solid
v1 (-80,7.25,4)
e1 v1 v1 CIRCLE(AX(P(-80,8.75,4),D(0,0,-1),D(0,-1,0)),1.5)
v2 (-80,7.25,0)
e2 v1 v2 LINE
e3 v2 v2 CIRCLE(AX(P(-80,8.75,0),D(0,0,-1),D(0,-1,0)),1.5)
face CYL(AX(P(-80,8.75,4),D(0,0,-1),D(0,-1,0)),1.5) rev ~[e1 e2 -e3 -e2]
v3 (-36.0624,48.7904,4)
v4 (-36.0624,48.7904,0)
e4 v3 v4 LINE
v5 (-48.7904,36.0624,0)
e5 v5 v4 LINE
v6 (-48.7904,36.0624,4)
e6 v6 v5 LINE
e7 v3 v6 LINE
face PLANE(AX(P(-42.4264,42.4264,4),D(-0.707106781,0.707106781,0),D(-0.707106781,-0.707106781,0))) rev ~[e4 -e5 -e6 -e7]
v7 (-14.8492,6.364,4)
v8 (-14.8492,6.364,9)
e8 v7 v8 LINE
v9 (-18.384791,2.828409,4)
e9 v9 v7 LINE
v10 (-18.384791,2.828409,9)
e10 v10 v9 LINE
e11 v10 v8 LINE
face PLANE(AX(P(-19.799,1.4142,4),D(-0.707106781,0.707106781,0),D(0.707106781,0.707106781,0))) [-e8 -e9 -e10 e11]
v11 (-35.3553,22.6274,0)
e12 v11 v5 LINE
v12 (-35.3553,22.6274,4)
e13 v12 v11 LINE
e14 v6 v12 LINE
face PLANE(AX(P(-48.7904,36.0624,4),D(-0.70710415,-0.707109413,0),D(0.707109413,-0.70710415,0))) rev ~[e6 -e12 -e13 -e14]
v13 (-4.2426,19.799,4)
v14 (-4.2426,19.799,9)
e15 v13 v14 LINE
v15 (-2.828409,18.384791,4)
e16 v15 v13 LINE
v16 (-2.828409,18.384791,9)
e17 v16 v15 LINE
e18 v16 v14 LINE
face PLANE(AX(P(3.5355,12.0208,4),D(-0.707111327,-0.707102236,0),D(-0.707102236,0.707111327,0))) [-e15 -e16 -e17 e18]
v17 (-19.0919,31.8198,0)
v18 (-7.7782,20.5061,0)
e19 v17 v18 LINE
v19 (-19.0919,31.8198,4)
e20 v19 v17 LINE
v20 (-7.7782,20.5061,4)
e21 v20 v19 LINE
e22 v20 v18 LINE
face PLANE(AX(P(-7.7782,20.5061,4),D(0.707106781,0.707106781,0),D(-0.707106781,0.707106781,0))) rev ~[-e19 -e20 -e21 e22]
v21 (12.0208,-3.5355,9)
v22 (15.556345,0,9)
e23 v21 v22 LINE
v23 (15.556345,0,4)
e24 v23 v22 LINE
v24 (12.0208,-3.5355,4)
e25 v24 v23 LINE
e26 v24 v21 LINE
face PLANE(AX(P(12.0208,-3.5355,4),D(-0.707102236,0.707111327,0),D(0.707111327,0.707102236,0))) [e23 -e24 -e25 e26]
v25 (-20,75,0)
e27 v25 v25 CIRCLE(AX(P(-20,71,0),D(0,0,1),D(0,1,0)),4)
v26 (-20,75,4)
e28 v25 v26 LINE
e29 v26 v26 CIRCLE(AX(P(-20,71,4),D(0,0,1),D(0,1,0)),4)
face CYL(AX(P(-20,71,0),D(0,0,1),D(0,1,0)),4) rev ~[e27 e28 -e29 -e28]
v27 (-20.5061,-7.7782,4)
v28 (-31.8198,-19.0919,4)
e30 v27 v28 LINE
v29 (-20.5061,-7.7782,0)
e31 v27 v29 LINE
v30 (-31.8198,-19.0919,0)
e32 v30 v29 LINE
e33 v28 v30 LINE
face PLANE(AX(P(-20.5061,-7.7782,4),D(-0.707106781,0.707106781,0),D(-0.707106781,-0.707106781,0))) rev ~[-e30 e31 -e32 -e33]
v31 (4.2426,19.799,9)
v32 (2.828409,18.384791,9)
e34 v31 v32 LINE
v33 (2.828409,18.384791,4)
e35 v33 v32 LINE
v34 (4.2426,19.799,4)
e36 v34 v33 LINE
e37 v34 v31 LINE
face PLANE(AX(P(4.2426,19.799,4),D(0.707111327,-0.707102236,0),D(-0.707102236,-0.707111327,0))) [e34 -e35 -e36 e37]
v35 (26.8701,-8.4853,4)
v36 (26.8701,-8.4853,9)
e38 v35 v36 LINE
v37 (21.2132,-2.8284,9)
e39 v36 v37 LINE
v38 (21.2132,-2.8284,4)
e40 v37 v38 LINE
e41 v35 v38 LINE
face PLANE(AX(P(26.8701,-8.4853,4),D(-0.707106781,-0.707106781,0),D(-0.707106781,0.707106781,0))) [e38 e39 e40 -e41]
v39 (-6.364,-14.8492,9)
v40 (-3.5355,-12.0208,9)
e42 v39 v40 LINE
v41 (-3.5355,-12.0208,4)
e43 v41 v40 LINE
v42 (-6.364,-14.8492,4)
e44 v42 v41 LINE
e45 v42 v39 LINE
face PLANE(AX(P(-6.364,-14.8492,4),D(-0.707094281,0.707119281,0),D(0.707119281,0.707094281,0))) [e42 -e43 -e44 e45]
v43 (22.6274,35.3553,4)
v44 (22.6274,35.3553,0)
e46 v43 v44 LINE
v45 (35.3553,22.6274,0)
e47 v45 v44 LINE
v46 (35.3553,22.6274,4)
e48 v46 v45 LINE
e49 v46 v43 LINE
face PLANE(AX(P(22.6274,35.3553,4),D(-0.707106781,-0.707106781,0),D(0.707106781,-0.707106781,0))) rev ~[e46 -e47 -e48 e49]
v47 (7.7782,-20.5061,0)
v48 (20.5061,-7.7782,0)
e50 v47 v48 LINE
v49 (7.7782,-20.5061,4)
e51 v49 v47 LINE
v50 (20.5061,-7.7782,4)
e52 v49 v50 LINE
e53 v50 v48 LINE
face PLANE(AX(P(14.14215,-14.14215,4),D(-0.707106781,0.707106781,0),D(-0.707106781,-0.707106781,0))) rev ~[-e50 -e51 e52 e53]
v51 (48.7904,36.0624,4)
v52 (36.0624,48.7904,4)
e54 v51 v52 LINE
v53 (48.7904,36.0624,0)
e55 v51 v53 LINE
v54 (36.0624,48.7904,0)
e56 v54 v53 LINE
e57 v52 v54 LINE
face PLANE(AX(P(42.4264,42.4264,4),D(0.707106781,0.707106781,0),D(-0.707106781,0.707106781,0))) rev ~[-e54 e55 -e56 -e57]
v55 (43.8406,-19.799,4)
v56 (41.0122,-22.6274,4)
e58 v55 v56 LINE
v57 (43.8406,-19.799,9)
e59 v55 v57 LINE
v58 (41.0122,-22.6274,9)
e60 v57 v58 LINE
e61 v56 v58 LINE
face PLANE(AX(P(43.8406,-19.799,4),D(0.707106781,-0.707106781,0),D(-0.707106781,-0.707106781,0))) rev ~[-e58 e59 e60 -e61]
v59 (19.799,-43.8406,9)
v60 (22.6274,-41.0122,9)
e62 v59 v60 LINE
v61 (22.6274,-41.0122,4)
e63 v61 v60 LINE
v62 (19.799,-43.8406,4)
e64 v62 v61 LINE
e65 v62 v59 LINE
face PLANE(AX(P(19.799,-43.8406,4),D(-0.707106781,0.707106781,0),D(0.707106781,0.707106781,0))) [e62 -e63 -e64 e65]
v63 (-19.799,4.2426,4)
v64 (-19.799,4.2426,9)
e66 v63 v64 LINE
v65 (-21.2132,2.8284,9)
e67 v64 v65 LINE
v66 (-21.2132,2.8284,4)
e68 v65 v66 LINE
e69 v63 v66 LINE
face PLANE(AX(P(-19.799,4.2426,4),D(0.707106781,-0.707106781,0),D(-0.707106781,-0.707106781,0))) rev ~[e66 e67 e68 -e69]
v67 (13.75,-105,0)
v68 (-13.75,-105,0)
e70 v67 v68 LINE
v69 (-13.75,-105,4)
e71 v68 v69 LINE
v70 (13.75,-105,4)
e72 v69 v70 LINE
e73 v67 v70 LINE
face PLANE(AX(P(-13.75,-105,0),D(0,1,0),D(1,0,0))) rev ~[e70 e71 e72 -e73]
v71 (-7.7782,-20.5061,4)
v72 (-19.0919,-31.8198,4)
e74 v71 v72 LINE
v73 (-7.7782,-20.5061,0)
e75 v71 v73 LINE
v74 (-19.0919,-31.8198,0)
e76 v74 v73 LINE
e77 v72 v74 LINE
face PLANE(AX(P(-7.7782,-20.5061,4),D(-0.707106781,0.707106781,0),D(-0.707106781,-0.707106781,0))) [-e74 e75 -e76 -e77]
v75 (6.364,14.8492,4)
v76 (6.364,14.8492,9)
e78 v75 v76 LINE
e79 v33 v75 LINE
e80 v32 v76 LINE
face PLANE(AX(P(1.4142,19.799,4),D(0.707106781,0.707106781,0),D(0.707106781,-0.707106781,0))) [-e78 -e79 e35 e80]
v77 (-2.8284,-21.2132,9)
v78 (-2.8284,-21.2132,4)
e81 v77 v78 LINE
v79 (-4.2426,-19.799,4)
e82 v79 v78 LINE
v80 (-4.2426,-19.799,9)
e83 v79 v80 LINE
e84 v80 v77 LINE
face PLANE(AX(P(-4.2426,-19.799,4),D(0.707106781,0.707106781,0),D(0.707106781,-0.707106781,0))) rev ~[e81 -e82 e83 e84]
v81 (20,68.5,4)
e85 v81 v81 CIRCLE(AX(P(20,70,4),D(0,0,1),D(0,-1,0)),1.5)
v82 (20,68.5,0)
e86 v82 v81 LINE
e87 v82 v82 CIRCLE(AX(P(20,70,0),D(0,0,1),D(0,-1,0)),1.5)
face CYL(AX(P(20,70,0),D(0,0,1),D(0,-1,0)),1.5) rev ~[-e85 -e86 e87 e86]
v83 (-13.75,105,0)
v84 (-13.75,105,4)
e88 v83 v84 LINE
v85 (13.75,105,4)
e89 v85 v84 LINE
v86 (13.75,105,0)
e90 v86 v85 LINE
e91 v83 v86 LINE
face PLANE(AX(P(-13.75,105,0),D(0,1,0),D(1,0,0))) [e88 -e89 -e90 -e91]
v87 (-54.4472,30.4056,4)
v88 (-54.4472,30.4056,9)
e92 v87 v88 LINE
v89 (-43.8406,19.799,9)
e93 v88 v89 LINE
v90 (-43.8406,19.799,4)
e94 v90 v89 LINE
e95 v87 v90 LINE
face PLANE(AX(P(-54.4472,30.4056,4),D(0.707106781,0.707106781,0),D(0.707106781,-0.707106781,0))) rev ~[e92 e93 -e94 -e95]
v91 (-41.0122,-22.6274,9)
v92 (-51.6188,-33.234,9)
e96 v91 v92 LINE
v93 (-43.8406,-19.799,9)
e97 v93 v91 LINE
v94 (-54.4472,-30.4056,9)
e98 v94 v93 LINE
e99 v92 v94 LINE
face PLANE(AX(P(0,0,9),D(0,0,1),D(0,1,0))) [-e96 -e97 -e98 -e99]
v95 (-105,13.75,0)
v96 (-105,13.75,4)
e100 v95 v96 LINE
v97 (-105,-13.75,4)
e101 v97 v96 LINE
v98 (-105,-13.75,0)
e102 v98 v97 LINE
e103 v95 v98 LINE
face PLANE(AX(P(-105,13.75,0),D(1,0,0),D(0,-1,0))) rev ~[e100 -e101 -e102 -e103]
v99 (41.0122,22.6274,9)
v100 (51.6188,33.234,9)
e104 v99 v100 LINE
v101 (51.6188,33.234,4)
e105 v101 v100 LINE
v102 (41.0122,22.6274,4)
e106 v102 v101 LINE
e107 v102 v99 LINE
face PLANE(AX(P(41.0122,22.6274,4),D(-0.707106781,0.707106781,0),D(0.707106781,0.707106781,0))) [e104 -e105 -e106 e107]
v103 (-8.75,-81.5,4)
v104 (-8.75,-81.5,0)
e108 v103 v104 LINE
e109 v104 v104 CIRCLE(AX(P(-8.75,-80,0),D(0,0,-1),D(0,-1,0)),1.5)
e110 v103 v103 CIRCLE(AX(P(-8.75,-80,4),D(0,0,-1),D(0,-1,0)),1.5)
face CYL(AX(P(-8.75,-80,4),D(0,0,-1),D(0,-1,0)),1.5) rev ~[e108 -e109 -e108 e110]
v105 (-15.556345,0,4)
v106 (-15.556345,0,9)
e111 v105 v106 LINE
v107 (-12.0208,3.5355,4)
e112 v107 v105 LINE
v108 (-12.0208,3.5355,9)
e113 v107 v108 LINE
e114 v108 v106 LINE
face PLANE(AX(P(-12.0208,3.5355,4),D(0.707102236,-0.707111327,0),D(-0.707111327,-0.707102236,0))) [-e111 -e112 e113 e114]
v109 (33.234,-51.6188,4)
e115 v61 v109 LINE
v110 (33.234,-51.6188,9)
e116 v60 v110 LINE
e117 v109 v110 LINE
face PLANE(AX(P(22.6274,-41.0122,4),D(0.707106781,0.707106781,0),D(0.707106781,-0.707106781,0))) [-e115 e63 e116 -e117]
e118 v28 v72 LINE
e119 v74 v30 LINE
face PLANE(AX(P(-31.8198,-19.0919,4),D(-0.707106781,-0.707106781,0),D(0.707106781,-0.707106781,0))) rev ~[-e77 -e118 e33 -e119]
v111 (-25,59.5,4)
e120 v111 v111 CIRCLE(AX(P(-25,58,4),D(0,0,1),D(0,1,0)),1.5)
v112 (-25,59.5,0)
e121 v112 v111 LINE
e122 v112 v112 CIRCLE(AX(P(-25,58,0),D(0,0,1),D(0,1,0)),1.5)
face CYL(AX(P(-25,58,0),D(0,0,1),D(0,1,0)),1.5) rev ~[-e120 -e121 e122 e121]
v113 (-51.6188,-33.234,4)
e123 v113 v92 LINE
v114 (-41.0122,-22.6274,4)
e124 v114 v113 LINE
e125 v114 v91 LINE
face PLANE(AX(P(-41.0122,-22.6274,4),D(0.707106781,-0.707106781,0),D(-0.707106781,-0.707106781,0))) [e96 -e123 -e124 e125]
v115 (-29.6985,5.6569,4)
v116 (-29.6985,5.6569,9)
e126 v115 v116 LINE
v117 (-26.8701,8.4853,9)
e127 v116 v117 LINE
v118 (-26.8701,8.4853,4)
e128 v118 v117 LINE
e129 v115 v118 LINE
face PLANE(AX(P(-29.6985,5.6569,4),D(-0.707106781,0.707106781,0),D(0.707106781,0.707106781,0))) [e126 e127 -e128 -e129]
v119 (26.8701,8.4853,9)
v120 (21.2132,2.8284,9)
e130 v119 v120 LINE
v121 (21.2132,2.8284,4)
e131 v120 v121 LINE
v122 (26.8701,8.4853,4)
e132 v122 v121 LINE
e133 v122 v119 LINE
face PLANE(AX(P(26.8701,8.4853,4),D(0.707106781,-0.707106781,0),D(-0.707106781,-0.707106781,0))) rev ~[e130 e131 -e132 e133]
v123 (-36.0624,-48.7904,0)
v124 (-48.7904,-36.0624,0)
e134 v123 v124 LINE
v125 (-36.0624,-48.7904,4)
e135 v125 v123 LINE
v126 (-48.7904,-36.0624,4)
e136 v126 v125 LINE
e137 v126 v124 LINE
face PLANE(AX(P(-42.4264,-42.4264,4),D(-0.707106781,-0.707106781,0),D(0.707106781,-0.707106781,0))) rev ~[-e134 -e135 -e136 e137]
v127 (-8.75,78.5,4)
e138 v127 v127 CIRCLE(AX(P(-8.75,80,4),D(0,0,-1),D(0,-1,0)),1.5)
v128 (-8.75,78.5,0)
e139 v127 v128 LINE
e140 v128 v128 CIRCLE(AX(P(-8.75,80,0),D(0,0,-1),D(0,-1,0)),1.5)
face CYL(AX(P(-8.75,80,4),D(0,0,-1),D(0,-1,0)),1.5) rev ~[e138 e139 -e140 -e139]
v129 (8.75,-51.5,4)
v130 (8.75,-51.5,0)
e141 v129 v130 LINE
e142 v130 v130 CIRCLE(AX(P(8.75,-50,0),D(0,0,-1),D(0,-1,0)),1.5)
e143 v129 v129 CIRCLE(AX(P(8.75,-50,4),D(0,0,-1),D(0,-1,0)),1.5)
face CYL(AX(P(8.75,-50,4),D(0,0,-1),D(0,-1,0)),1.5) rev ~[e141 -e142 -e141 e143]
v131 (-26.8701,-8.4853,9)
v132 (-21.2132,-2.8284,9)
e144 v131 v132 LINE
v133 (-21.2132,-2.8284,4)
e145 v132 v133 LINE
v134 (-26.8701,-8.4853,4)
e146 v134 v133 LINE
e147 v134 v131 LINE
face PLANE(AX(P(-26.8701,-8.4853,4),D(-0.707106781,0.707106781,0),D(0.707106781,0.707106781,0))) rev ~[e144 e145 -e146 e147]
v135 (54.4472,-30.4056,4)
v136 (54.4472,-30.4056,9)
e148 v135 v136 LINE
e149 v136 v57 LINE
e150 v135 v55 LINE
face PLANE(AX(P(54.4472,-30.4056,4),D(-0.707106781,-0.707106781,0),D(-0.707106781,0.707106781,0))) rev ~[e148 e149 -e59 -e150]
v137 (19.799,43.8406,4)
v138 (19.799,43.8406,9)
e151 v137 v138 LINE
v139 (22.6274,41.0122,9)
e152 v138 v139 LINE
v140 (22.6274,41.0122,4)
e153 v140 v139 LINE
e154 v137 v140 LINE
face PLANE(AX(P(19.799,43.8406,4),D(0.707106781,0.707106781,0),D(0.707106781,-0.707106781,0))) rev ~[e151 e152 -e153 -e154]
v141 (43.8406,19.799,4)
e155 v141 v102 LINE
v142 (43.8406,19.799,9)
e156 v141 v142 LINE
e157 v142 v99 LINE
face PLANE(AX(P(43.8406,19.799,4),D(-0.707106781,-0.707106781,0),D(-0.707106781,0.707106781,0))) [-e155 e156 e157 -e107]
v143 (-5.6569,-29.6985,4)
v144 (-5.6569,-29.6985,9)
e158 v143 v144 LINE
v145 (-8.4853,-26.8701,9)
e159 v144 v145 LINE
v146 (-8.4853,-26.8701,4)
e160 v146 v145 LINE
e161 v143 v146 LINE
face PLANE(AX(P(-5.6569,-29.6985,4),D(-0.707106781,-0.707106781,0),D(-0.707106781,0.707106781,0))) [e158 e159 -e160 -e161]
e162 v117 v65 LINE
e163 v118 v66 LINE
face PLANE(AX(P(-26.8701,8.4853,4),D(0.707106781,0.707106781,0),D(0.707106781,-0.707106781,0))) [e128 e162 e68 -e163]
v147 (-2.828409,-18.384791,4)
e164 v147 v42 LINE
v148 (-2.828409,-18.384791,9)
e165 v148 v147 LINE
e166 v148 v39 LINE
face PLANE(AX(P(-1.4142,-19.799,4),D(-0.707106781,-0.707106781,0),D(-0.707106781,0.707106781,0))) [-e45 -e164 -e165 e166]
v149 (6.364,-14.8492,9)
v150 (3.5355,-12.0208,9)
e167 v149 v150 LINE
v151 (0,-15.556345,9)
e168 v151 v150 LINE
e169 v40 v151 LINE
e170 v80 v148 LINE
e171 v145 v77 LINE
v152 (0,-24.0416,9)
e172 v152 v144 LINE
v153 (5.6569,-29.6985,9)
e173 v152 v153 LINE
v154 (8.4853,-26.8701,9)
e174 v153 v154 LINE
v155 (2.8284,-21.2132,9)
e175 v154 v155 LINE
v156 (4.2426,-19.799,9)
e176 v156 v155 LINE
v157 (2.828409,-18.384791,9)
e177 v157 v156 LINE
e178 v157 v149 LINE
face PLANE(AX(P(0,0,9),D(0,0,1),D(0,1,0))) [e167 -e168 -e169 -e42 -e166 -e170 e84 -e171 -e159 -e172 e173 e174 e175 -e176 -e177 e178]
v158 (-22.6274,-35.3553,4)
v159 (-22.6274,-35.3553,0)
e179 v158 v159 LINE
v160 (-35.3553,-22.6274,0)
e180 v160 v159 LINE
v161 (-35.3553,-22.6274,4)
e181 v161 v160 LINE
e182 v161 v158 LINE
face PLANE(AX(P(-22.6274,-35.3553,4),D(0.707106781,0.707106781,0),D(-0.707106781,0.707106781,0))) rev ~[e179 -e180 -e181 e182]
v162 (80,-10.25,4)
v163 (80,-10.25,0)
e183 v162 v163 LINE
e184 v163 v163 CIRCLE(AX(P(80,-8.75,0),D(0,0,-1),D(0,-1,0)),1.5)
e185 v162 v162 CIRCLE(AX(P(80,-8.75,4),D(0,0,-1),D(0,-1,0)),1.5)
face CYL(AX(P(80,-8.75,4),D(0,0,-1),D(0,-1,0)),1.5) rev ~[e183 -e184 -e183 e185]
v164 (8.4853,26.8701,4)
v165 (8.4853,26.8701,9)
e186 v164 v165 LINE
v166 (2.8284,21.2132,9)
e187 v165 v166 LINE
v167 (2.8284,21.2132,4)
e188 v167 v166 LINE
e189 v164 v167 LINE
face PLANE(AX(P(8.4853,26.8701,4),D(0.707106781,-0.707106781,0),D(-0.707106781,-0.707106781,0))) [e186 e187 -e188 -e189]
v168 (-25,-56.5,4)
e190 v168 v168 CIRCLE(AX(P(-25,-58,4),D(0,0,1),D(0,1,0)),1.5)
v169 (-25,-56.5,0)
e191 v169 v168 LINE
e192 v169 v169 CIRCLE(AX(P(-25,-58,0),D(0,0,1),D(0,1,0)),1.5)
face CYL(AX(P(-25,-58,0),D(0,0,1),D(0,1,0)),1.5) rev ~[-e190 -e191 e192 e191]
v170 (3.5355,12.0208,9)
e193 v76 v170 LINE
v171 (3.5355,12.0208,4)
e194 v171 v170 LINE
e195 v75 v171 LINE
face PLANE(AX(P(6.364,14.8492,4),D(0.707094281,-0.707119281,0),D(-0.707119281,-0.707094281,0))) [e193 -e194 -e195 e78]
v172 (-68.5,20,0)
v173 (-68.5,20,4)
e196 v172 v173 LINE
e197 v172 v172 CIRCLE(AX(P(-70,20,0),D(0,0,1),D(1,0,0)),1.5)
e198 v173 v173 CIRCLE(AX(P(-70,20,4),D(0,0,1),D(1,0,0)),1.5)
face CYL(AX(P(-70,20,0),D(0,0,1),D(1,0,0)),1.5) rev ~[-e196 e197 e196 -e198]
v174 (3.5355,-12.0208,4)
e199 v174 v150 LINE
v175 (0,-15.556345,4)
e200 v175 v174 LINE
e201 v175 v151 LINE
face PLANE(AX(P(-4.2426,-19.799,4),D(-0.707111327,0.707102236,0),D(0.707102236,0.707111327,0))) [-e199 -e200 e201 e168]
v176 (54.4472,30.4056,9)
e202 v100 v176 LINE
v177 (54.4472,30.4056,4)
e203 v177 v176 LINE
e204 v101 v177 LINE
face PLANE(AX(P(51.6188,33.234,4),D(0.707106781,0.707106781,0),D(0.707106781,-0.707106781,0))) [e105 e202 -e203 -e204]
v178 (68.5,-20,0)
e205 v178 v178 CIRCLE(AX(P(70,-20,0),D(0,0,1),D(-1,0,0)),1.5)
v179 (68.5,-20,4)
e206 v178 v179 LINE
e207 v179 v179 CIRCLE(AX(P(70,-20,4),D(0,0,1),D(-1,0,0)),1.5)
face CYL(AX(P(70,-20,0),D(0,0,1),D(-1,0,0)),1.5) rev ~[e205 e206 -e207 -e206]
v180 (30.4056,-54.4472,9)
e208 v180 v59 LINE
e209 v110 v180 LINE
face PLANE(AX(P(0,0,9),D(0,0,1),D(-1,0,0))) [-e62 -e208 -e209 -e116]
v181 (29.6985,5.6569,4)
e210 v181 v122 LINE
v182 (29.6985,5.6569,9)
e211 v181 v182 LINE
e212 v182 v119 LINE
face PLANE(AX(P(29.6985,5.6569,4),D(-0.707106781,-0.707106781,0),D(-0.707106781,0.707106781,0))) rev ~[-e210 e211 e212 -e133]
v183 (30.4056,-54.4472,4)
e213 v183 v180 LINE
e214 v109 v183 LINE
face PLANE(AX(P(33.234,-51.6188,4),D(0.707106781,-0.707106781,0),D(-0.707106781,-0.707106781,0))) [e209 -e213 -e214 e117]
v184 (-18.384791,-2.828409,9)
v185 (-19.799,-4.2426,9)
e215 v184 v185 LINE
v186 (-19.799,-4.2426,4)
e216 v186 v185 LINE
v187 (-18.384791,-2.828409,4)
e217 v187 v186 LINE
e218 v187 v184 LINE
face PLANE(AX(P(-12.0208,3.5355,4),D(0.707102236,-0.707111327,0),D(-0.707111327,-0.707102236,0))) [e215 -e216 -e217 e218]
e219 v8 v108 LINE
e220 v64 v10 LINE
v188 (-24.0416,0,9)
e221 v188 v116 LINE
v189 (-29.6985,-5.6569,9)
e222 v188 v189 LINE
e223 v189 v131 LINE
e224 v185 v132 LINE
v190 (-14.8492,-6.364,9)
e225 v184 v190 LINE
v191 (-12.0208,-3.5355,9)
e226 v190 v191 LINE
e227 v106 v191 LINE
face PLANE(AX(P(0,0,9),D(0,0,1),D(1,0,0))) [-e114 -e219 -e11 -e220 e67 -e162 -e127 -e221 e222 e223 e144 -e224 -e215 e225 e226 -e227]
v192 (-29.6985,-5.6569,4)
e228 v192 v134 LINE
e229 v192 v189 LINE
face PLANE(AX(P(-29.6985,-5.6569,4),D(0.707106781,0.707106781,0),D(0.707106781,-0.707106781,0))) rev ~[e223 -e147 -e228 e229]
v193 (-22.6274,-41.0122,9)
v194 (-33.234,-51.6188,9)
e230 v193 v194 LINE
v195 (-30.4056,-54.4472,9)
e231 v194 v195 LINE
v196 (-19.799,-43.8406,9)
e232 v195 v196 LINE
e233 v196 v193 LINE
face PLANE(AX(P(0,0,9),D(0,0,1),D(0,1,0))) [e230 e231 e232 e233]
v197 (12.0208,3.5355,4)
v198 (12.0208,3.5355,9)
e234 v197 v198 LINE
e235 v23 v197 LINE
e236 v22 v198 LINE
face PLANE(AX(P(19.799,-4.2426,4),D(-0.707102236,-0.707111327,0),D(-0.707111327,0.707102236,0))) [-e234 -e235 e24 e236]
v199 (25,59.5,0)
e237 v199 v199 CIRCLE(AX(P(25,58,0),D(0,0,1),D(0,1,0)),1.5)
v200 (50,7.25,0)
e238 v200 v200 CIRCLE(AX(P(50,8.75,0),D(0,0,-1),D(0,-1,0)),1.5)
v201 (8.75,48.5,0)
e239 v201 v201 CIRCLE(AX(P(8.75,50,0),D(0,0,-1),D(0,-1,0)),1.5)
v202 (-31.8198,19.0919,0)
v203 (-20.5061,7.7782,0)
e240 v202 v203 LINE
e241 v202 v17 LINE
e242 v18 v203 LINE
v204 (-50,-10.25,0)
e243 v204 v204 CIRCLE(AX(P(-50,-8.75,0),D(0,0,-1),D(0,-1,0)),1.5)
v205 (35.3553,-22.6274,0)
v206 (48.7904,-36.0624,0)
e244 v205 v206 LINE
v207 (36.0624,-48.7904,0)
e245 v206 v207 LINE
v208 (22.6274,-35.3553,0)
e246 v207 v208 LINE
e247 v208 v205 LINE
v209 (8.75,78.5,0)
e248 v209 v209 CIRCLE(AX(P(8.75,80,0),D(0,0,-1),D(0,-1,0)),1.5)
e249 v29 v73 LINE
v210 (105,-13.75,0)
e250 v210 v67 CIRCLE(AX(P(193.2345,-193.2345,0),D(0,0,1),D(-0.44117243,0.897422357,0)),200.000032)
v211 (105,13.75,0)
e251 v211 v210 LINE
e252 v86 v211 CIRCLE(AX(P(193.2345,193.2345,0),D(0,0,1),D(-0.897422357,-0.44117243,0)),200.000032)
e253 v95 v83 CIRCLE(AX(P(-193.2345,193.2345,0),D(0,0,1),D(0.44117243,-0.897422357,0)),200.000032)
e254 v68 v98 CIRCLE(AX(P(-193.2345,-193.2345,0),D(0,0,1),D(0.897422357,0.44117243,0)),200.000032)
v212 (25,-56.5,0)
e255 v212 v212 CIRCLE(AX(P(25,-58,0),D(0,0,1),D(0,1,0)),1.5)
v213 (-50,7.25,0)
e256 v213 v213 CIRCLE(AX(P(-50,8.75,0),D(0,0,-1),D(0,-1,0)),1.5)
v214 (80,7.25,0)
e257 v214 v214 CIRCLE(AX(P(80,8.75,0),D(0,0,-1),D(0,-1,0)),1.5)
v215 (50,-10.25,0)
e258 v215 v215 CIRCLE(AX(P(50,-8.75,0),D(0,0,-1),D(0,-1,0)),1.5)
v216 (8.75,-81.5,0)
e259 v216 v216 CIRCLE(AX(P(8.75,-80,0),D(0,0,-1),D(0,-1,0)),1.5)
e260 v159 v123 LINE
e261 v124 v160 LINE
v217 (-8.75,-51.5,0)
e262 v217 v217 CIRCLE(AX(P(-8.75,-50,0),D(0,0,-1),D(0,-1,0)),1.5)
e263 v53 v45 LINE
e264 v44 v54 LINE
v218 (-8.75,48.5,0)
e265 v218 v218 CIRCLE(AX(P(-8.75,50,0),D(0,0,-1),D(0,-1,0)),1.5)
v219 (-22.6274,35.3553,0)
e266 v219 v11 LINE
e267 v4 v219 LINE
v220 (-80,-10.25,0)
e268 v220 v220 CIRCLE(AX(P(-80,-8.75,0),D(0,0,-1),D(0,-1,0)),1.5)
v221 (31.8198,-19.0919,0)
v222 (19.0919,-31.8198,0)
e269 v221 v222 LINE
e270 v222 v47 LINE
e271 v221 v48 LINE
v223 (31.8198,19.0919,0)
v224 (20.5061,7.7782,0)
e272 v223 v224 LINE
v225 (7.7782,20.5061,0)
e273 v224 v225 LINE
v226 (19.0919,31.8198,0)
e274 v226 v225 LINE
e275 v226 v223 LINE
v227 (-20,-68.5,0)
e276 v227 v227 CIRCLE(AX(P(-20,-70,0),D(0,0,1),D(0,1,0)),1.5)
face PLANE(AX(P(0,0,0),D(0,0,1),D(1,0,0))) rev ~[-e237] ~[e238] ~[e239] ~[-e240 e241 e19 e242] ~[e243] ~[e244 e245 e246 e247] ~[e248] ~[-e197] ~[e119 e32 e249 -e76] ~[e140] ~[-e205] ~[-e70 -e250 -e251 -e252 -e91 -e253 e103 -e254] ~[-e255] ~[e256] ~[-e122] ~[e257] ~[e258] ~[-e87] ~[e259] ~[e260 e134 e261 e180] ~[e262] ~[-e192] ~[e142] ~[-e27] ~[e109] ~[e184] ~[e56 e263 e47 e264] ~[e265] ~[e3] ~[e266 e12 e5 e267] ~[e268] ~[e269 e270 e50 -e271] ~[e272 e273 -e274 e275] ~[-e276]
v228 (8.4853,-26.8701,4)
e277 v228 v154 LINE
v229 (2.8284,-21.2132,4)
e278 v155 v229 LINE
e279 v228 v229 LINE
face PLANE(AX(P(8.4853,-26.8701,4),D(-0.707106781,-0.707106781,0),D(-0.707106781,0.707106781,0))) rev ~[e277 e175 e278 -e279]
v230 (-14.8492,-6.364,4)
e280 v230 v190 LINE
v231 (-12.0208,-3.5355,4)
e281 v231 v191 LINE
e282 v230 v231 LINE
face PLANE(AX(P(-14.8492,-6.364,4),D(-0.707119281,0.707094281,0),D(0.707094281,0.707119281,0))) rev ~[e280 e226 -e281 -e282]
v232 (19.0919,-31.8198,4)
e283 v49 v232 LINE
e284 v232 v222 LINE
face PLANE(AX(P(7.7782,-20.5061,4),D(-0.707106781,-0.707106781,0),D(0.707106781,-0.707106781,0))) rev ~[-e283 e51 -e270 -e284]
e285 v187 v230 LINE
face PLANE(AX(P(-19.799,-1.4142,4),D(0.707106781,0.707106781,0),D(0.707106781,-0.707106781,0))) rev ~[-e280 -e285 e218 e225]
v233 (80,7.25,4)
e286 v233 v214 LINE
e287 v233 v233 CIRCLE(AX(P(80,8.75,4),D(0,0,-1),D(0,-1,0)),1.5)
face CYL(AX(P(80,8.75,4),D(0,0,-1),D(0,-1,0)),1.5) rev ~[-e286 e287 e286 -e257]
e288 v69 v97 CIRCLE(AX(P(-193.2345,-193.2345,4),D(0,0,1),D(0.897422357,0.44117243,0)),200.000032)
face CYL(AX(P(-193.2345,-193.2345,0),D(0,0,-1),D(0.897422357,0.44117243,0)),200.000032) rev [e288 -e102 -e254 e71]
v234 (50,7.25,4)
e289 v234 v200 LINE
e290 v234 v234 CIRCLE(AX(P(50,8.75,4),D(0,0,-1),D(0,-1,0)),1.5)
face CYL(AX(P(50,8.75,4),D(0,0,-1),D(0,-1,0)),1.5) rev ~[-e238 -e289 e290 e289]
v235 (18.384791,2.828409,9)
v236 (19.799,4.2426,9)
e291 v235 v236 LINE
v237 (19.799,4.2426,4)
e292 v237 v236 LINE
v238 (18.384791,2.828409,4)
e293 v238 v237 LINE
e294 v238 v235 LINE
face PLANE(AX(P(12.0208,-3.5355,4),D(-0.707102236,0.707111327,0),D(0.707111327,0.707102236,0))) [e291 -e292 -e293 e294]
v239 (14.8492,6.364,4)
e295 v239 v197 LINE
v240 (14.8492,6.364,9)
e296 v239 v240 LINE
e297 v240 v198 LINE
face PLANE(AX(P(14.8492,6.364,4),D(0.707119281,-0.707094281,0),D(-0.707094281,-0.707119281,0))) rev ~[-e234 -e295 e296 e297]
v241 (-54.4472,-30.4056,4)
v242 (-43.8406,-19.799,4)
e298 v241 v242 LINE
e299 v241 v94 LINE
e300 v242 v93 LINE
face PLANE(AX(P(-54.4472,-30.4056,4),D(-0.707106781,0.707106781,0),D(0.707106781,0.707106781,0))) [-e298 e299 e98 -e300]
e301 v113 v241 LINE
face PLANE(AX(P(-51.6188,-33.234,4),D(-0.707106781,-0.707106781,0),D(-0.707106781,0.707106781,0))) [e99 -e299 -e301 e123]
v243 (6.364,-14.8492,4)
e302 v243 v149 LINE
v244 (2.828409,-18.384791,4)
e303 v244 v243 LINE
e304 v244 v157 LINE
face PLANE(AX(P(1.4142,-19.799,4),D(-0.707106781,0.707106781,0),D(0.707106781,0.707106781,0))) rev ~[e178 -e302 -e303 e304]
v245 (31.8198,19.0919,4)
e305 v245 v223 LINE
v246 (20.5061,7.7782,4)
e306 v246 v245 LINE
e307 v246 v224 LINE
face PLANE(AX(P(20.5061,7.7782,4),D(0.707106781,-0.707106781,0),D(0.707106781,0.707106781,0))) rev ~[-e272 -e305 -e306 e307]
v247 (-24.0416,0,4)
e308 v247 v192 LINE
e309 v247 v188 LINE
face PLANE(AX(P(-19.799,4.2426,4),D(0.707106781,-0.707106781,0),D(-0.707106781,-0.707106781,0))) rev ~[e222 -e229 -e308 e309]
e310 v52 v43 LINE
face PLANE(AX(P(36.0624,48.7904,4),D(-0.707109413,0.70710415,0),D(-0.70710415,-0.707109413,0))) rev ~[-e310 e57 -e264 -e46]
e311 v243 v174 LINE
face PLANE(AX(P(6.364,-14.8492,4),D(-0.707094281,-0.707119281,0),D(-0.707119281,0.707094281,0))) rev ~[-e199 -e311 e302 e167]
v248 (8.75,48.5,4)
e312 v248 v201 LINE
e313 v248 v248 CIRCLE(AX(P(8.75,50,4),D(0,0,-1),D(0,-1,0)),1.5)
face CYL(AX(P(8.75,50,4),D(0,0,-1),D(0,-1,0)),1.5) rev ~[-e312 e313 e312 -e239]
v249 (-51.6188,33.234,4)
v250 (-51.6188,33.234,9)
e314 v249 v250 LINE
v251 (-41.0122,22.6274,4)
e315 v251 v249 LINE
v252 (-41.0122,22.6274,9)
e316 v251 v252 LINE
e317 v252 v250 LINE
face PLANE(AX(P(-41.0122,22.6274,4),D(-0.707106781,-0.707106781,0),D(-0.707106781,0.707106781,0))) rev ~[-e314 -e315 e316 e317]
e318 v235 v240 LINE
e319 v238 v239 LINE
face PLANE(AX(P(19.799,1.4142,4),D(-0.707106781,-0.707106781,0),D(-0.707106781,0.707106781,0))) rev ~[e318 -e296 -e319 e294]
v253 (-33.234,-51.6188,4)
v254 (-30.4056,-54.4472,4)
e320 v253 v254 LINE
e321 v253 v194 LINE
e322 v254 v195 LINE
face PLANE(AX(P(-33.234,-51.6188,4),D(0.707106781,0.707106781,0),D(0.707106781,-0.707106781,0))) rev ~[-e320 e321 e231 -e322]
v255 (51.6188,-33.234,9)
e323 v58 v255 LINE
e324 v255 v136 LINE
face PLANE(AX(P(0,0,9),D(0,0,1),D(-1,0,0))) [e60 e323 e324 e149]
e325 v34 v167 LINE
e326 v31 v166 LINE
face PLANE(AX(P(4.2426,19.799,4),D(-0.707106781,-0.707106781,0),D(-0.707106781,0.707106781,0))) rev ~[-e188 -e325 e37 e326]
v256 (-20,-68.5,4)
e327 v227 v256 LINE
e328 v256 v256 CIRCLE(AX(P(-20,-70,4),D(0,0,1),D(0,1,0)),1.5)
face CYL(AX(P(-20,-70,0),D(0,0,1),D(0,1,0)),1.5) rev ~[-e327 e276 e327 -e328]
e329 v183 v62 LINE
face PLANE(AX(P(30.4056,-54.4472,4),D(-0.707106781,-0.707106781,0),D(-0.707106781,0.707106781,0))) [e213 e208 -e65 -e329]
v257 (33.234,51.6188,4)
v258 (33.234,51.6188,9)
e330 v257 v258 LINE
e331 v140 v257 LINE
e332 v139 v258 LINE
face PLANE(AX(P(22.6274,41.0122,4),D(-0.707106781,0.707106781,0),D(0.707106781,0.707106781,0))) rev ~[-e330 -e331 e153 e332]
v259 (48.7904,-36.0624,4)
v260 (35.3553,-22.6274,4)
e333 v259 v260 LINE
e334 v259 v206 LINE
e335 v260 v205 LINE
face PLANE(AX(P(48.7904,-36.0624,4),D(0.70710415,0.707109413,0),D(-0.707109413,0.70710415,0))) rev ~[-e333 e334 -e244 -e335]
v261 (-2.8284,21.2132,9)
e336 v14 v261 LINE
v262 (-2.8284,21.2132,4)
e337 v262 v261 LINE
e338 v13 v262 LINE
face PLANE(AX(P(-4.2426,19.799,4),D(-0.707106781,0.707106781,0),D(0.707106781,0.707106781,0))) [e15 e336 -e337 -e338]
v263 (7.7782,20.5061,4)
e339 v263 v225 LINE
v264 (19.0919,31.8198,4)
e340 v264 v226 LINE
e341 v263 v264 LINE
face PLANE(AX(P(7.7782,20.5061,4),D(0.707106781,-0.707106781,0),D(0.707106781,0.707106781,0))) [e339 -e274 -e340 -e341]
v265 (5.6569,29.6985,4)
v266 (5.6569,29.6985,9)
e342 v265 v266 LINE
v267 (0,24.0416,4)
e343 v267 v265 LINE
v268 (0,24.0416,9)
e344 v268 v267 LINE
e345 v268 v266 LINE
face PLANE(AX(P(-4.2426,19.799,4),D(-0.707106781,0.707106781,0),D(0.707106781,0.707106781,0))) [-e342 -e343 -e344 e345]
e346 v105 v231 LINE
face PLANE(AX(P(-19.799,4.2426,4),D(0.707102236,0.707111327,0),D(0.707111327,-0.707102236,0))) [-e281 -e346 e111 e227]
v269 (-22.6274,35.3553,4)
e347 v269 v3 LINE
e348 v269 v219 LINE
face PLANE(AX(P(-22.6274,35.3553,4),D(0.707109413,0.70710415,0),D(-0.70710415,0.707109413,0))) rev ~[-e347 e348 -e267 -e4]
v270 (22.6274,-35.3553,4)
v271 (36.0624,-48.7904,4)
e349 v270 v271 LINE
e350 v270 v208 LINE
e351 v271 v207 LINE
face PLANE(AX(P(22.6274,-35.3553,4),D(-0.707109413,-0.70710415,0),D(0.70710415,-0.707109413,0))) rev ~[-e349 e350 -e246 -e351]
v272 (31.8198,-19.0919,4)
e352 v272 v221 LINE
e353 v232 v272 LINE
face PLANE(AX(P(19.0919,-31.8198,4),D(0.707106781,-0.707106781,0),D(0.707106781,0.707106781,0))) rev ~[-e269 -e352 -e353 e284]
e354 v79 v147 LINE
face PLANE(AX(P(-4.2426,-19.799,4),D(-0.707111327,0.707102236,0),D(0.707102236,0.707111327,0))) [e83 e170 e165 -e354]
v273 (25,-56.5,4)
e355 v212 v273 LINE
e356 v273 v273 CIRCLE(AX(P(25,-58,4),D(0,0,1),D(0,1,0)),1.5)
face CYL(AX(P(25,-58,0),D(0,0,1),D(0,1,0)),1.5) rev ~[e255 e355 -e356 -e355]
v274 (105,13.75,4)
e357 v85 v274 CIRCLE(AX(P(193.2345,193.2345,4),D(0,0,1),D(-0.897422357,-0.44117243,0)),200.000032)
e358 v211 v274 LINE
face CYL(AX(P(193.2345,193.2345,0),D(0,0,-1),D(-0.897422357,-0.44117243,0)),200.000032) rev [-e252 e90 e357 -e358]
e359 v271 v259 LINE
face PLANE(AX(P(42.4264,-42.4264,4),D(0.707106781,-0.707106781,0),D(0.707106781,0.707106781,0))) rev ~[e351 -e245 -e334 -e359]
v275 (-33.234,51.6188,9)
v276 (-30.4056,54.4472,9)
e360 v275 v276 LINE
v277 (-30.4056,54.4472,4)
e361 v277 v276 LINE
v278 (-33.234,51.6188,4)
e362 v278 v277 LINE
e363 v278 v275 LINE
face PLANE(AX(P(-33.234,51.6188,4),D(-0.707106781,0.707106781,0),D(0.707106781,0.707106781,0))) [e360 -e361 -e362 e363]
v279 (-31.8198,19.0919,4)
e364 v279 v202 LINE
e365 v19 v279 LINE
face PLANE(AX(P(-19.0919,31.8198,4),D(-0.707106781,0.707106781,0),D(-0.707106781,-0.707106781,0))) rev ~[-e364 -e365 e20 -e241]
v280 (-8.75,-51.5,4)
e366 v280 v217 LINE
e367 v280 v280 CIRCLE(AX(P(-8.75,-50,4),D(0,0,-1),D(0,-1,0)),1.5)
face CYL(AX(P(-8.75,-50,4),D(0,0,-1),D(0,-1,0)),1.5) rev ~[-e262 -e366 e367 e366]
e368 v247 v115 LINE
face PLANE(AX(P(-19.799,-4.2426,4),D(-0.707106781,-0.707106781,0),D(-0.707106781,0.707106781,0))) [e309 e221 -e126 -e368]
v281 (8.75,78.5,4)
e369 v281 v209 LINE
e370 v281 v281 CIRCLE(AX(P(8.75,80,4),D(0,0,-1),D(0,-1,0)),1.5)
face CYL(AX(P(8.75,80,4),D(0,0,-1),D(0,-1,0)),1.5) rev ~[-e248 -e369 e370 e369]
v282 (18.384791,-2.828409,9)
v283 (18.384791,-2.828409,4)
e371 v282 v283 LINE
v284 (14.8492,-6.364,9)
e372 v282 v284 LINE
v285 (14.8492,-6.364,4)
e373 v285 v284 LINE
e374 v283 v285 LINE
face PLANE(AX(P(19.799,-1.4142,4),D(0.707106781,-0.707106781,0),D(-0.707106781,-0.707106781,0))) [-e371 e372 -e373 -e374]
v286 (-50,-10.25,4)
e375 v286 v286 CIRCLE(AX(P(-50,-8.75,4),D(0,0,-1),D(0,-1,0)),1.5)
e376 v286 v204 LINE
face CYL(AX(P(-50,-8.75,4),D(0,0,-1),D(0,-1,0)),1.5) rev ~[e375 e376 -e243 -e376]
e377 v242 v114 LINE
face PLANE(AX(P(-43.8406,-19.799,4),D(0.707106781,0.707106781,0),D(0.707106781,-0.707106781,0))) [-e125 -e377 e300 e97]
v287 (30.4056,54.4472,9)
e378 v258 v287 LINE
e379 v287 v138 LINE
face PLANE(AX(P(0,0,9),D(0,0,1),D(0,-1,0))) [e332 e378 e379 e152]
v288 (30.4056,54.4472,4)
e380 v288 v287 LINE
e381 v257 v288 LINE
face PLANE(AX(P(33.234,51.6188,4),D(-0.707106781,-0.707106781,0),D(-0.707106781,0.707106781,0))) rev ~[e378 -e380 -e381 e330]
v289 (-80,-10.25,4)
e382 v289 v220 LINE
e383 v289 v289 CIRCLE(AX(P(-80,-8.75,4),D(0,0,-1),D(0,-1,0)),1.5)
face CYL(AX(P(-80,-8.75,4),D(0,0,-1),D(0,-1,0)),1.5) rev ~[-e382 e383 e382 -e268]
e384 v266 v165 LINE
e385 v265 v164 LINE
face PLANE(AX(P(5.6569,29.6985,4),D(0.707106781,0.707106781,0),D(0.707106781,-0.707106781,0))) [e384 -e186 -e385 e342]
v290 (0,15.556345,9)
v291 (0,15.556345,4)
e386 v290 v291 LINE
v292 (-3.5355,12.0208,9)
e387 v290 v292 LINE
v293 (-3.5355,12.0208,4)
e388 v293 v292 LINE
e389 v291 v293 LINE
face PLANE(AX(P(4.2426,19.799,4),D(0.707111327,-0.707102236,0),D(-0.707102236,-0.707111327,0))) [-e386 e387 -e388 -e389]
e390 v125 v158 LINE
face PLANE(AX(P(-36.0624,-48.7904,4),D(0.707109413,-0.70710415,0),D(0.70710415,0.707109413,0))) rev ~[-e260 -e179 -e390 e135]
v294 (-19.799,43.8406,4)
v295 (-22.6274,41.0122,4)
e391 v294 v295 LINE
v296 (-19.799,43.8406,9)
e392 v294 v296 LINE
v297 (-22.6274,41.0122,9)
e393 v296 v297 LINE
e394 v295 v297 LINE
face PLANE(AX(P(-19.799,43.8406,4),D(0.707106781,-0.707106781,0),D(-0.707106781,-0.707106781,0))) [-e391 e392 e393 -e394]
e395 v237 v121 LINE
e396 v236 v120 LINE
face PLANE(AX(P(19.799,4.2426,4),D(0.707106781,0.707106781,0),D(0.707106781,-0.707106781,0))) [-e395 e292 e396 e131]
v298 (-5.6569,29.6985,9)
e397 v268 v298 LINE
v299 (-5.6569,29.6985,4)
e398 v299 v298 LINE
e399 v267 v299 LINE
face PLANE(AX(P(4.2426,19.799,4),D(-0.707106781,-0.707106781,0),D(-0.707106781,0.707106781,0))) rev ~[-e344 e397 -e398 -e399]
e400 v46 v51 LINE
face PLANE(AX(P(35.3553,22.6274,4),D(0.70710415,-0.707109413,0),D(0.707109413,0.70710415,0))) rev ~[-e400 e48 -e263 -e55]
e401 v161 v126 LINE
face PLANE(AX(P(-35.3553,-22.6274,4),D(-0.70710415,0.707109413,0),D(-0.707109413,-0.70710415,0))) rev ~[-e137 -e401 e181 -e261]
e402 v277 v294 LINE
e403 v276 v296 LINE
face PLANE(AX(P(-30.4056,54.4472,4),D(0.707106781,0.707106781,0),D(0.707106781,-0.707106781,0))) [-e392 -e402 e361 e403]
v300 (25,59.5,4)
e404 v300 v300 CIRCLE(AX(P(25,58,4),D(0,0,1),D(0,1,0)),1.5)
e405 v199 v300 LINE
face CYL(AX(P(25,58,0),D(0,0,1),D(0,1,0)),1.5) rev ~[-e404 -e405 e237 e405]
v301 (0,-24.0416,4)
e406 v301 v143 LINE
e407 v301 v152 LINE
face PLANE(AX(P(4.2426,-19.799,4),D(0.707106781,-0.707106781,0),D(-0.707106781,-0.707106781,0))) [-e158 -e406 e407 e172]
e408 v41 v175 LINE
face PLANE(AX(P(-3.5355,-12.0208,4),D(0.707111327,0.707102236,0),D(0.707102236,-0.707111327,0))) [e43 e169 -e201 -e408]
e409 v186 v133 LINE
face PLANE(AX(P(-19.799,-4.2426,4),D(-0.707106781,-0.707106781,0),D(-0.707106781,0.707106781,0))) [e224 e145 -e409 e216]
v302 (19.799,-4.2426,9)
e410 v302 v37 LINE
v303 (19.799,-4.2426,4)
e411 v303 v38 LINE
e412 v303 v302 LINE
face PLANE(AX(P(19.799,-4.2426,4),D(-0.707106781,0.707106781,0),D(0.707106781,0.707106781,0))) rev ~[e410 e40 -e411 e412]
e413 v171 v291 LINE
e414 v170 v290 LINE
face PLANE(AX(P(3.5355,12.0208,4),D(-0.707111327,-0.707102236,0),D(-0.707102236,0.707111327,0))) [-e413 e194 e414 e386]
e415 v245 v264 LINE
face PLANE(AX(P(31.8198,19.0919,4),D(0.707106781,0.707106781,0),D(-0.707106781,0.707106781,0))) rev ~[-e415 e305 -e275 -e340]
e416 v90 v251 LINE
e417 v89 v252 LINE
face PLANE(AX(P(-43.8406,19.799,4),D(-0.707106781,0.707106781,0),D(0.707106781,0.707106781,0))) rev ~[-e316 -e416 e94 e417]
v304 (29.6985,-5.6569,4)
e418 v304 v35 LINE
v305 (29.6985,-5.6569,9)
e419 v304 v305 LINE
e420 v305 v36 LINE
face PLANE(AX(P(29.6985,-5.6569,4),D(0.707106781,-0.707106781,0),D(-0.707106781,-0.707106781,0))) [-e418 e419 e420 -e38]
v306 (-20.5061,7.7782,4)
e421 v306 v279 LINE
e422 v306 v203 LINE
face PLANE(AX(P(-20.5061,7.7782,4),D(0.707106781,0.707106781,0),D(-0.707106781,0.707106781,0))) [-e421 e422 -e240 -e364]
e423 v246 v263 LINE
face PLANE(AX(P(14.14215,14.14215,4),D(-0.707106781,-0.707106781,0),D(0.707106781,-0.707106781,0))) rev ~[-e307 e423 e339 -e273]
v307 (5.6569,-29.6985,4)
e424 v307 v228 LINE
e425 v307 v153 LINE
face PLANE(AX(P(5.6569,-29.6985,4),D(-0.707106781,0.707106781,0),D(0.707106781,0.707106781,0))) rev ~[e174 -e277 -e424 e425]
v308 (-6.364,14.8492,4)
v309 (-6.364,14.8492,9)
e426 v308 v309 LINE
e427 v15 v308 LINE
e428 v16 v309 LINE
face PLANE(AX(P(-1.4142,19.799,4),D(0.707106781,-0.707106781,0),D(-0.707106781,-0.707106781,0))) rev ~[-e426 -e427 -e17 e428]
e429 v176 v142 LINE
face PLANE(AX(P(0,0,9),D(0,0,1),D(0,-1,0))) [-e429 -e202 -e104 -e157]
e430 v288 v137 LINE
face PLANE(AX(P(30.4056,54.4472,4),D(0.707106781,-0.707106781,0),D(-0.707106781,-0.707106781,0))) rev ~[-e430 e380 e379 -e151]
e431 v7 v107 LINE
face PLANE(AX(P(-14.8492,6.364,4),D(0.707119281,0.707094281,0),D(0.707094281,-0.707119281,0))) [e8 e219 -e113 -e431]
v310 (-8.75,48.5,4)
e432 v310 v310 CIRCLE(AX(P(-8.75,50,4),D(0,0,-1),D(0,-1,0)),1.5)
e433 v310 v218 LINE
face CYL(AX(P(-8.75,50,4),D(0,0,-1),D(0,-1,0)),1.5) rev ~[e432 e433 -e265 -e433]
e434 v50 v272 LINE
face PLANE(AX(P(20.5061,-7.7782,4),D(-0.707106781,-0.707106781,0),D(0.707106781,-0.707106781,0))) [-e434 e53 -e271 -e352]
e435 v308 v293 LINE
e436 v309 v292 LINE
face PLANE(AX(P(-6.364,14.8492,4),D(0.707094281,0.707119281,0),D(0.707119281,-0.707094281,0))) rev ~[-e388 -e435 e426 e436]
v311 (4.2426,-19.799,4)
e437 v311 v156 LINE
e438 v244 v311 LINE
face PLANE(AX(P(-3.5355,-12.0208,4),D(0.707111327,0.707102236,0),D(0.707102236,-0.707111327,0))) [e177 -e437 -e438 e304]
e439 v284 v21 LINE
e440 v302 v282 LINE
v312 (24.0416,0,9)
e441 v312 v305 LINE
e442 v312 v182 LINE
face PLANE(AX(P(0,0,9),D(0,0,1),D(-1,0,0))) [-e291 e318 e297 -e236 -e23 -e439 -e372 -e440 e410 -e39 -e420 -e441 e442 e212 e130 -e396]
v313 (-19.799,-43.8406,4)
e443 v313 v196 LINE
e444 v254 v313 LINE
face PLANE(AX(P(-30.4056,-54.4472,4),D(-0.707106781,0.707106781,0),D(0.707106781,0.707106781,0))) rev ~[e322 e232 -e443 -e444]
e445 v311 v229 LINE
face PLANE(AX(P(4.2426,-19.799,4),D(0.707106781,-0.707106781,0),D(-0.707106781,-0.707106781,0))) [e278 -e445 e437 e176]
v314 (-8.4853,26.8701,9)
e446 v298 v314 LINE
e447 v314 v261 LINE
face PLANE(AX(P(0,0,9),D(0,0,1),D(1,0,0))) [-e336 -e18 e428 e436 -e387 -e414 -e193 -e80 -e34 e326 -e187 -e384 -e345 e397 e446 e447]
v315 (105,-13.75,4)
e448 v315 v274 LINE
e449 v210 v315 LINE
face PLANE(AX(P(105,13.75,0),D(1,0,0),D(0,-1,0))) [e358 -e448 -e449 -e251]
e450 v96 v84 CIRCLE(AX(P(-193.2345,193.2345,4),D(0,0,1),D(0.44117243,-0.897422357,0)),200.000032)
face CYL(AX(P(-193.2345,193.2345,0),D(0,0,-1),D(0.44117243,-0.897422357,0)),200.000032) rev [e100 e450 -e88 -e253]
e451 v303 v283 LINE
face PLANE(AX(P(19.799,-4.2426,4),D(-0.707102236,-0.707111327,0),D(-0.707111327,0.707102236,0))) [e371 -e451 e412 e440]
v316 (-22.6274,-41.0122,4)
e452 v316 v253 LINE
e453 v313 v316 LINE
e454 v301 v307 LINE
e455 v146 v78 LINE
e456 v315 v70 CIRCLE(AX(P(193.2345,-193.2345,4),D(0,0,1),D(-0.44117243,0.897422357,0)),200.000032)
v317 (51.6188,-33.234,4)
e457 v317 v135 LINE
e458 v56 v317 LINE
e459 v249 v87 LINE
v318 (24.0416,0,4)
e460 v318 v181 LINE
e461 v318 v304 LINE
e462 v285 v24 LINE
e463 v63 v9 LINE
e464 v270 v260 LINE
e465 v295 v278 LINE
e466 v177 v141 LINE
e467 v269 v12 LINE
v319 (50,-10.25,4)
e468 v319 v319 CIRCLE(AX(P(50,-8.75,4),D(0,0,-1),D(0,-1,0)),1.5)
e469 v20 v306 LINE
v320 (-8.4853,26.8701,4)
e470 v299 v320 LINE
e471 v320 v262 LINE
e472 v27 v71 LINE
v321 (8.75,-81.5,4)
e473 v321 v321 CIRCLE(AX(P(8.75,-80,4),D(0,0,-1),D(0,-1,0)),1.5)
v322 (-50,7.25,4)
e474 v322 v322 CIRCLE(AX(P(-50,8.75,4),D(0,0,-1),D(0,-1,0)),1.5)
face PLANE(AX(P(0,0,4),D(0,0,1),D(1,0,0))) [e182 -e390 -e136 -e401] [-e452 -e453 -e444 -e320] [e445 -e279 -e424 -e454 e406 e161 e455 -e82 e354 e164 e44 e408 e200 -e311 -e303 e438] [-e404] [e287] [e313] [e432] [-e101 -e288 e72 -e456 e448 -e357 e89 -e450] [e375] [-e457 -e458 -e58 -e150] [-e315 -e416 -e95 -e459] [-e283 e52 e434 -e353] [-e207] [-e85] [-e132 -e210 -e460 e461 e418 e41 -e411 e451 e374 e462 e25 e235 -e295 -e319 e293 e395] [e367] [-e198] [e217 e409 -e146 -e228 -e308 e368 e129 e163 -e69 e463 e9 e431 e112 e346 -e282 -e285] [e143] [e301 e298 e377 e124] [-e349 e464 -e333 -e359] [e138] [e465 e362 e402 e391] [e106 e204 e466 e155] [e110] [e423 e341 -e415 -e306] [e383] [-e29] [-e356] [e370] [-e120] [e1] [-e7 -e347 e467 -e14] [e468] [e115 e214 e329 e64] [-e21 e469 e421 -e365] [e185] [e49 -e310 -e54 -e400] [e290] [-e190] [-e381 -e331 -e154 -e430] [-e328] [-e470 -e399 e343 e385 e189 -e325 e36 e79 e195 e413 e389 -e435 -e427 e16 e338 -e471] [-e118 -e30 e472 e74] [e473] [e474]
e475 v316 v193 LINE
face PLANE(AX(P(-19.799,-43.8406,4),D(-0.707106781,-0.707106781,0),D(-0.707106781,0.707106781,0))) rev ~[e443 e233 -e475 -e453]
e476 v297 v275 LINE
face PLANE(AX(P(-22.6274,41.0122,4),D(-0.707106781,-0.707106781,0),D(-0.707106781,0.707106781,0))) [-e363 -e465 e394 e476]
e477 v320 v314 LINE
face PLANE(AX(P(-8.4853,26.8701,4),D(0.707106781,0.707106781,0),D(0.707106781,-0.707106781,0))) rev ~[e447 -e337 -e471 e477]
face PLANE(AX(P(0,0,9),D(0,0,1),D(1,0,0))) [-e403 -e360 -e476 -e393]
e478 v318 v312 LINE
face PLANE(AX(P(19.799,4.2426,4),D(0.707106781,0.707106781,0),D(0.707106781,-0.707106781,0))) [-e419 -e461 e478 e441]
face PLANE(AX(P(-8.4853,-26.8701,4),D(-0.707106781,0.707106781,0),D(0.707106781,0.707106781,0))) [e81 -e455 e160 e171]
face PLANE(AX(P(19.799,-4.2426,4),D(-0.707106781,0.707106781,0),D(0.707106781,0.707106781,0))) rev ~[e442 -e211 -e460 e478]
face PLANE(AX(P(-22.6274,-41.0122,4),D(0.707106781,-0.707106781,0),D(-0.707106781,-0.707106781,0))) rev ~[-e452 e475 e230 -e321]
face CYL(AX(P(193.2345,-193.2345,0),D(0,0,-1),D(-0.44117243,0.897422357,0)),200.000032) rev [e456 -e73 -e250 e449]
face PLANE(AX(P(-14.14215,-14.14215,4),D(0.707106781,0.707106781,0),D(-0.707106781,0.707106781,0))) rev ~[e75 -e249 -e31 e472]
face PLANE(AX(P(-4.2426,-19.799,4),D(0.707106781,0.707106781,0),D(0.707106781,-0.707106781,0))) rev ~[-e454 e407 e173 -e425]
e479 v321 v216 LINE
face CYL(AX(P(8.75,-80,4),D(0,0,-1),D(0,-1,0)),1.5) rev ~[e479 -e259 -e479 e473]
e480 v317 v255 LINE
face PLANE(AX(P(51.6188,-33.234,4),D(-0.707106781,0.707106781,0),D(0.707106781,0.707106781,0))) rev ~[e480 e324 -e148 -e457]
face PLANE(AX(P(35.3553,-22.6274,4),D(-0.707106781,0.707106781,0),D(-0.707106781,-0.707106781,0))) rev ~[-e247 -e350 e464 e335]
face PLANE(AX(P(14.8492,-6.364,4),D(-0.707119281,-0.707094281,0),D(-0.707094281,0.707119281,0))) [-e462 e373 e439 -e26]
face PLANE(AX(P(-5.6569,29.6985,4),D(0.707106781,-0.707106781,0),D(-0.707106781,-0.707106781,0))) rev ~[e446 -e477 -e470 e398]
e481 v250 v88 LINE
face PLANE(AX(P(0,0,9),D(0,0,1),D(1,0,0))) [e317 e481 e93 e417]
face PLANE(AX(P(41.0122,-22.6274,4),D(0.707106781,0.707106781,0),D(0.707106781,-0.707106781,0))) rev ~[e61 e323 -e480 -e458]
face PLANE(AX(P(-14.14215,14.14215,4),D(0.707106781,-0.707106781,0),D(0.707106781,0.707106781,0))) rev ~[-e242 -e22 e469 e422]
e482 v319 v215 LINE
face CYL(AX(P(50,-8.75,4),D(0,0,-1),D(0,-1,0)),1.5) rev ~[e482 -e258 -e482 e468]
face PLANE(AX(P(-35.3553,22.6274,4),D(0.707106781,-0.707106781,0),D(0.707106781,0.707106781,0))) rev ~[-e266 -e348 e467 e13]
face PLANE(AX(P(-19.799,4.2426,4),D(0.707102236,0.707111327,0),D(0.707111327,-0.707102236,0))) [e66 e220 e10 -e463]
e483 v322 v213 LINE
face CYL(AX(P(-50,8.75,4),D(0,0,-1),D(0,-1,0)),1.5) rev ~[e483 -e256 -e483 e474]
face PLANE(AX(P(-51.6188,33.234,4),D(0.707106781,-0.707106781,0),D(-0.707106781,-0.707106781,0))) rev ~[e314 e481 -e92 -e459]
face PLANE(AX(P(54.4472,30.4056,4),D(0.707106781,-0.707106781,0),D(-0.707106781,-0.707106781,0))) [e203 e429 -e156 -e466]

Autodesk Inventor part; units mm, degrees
ref_plane "YZ Plane" through (0, 0, 0) normal (1, 0, 0) x (0, 1, 0)
ref_plane "XZ Plane" through (0, 0, 0) normal (0, 1, 0) x (-1, 0, 0)
ref_plane "XY Plane" through (0, 0, 0) normal (0, 0, 1) x (1, 0, 0)
sketch "Skizze2" plane through (0, 0, 0) normal (0, 0, 1) x (1, 0, 0)
  line L0 (-268.185, 0) -> (268.185, 0)
  line L1 (0, -270.5283) -> (0, 270.5283) projected
  line L2 (-13.75, 105) -> (13.75, 105)
  line L3 (105, 13.75) -> (105, -13.75)
  line L4 (-105, 13.75) -> (-105, -13.75)
  line L5 (-13.75, -105) -> (13.75, -105)
  arc A0 (-105, 13.75) -> (-13.75, 105) centre (-193.2345, 193.2345) ccw
  arc A1 (13.75, 105) -> (105, 13.75) centre (193.2345, 193.2345) ccw
  arc A2 (105, -13.75) -> (13.75, -105) centre (193.2345, -193.2345) ccw
  arc A3 (-13.75, -105) -> (-105, -13.75) centre (-193.2345, -193.2345) ccw
  point P0 (0, 0)
  dimension "d37" = 105
  dimension "d38" = 27.5
  dimension "d39" = 200
  dimension "d44" = 105
extrude "Grundplatte" add sketch "Skizze2" along normal blind 4
sketch "Skizze3" plane through (0, 0, 4) normal (0, 0, 1) x (1, 0, 0)
  line L0 (0, -147) -> (0, 147) projected
  line L1 (13.75, 105) -> (-13.75, 105) projected
  point P0 (0, 0)
  point P1 (-8.75, 80)
  point P2 (-8.75, 50)
  point P3 (8.75, 80)
  point P4 (8.75, 50)
  point P5 (-80, 8.75)
  point P6 (-80, -8.75)
  point P7 (-50, -8.75)
  point P8 (-50, 8.75)
  point P9 (0, 0)
  point P10 (-8.75, -80)
  point P11 (8.75, -80)
  point P12 (8.75, -50)
  point P13 (-8.75, -50)
  point P14 (0, 0)
  point P15 (80, -8.75)
  point P16 (80, 8.75)
  point P17 (50, 8.75)
  point P18 (50, -8.75)
  point P19 (0, 0)
  dimension "d22" = 30
  dimension "d26" = 360
  dimension "d74" = 25
  dimension "d76" = 17.5
hole "Schrauben Armhalterung" at (-8.75, 80, 4) at (-8.75, 50, 4) at (8.75, 80, 4) at (8.75, 50, 4) at (-80, 8.75, 4) at (-80, -8.75, 4) at (-50, -8.75, 4) at (-50, 8.75, 4) at (-8.75, -80, 4) at (8.75, -80, 4) at (8.75, -50, 4) at (-8.75, -50, 4) at (80, -8.75, 4) at (80, 8.75, 4) at (50, 8.75, 4) at (50, -8.75, 4) direction (0, 0, -1) diameter 3 end through all
sketch "Skizze5" plane through (0, 0, 4) normal (0, 0, 1) x (1, 0, 0)
  line L0 (-7.7782, 20.5061) -> (-19.0919, 31.8198)
  line L1 (-36.0624, 48.7904) -> (-48.7904, 36.0624)
  line L2 (-48.7904, 36.0624) -> (-35.3553, 22.6274)
  line L3 (-20.5061, 7.7782) -> (-7.7782, 20.5061)
  line L4 (147, -147) -> (-147, 147) projected
  line L5 (-19.0919, 31.8198) -> (-31.8198, 19.0919)
  line L6 (-35.3553, 22.6274) -> (-22.6274, 35.3553)
  line L7 (-22.6274, 35.3553) -> (-36.0624, 48.7904)
  line L8 (-20.5061, 7.7782) -> (-31.8198, 19.0919)
  point P0 (0, 0)
  dimension "d49" = 18
  dimension "d50" = 40
  dimension "d71" = 5
  dimension "d72" = 16
  dimension "d73" = 20
extrude "Kühlung Regler" cut sketch "Skizze5" against normal up to next
sketch "Skizze7" plane through (0, 0, 4) normal (0, 0, 1) x (1, 0, 0)
  line L0 (4.2426, 19.799) -> (-5.6569, 29.6985)
  line L1 (-5.6569, 29.6985) -> (-8.4853, 26.8701)
  line L2 (-8.4853, 26.8701) -> (-1.4142, 19.799)
  line L3 (-1.4142, 19.799) -> (-6.364, 14.8492)
  line L4 (-6.364, 14.8492) -> (-3.5355, 12.0208)
  line L5 (4.2426, 19.799) -> (-3.5355, 12.0208)
  line L6 (147, -147) -> (-147, 147) projected
  line L7 (-29.6985, 5.6569) -> (-26.8701, 8.4853)
  line L8 (-26.8701, 8.4853) -> (-19.799, 1.4142)
  line L9 (-19.799, 1.4142) -> (-14.8492, 6.364)
  line L10 (-14.8492, 6.364) -> (-12.0208, 3.5355)
  line L11 (-19.799, -4.2426) -> (-29.6985, 5.6569)
  line L12 (-12.0208, 3.5355) -> (-19.799, -4.2426)
  line L13 (-30.4056, 54.4472) -> (-19.799, 43.8406)
  line L14 (-22.6274, 41.0122) -> (-33.234, 51.6188)
  line L15 (-33.234, 51.6188) -> (-30.4056, 54.4472)
  line L16 (-19.799, 43.8406) -> (-22.6274, 41.0122)
  line L17 (-41.0122, 22.6274) -> (-51.6188, 33.234)
  line L18 (-51.6188, 33.234) -> (-54.4472, 30.4056)
  line L19 (-43.8406, 19.799) -> (-41.0122, 22.6274)
  line L20 (-54.4472, 30.4056) -> (-43.8406, 19.799)
  point P0 (0, 0)
  dimension "d54" = 4
  dimension "d55" = 4
  dimension "d56" = 10
  dimension "d58" = 15
  dimension "d59" = 20
  dimension "d61" = 12
  dimension "d77" = 17
  dimension "d78" = 11
extrude "Halterung Regler" add sketch "Skizze7" along normal blind 5
pattern_circular "Runde Anordnung1" count 4 over 360 about axis through (0, 0, -10) along (0, 0, 1) of "Halterung Regler"
pattern_circular "Runde Anordnung2" count 4 over 360 about axis through (0, 0, -10) along (0, 0, 1) of "Kühlung Regler"
sketch "Skizze8" plane through (0, 0, 0) normal (0, 0, -1) x (-1, 0, 0)
  line L0 (-17.45, 65) -> (17.45, 65)
  line L1 (17.45, 65) -> (17.45, -65)
  line L2 (17.45, -65) -> (-17.45, -65)
  line L3 (-17.45, -65) -> (-17.45, 65)
  line L4 (0, -147) -> (0, 147) projected
  line L5 (147, 0) -> (-147, 0) projected
  point P0 (0, 0)
  point P1 (-25, 58)
  point P2 (25, 58)
  point P3 (-25, -58)
  point P4 (25, -58)
  dimension "d39" = 200
  dimension "d79" = 130
  dimension "d80" = 34.9
  dimension "d81" = 7
  dimension "d82" = 50
hole "Schrauben Akkuhalter" at (25, 58, 0) at (-25, 58, 0) at (-25, -58, 0) at (25, -58, 0) direction (0, 0, 1) diameter 3 end through all
sketch "Skizze9" plane through (0, 0, 0) normal (0, 0, -1) x (-1, 0, 0)
  line L0 (0, -147) -> (0, 147) projected
  line L1 (147, 0) -> (-147, 0) projected
  circle A0 centre (25, 58) radius 1.5 projected
  point P0 (0, 0)
  point P1 (20, 71)
  dimension "d39" = 200
  dimension "d90" = 20
  dimension "d91" = 13
hole "Kabel Akku" at (-20, 71, 0) direction (0, 0, 1) diameter 8 end through all
sketch "Skizze11" plane through (0, 0, 0) normal (0, 0, -1) x (-1, 0, 0)
  line L0 (147, 0) -> (-147, 0) projected
  line L1 (0, -147) -> (0, 147) projected
  line L2 (-13.75, -105) -> (13.75, -105) projected
  point P0 (0, 0)
  point P1 (20, -70)
  dimension "d39" = 200
  dimension "d108" = 20
  dimension "d109" = 35
hole "Schrauben Kuppel" at (-20, -70, 0) direction (0, 0, 1) diameter 3 end through all
pattern_circular "Runde Anordnung3" count 4 over 360 about axis through (0, 0, -10) along (0, 0, 1) of "Schrauben Kuppel"
properties part number "grundplatte_unten"
